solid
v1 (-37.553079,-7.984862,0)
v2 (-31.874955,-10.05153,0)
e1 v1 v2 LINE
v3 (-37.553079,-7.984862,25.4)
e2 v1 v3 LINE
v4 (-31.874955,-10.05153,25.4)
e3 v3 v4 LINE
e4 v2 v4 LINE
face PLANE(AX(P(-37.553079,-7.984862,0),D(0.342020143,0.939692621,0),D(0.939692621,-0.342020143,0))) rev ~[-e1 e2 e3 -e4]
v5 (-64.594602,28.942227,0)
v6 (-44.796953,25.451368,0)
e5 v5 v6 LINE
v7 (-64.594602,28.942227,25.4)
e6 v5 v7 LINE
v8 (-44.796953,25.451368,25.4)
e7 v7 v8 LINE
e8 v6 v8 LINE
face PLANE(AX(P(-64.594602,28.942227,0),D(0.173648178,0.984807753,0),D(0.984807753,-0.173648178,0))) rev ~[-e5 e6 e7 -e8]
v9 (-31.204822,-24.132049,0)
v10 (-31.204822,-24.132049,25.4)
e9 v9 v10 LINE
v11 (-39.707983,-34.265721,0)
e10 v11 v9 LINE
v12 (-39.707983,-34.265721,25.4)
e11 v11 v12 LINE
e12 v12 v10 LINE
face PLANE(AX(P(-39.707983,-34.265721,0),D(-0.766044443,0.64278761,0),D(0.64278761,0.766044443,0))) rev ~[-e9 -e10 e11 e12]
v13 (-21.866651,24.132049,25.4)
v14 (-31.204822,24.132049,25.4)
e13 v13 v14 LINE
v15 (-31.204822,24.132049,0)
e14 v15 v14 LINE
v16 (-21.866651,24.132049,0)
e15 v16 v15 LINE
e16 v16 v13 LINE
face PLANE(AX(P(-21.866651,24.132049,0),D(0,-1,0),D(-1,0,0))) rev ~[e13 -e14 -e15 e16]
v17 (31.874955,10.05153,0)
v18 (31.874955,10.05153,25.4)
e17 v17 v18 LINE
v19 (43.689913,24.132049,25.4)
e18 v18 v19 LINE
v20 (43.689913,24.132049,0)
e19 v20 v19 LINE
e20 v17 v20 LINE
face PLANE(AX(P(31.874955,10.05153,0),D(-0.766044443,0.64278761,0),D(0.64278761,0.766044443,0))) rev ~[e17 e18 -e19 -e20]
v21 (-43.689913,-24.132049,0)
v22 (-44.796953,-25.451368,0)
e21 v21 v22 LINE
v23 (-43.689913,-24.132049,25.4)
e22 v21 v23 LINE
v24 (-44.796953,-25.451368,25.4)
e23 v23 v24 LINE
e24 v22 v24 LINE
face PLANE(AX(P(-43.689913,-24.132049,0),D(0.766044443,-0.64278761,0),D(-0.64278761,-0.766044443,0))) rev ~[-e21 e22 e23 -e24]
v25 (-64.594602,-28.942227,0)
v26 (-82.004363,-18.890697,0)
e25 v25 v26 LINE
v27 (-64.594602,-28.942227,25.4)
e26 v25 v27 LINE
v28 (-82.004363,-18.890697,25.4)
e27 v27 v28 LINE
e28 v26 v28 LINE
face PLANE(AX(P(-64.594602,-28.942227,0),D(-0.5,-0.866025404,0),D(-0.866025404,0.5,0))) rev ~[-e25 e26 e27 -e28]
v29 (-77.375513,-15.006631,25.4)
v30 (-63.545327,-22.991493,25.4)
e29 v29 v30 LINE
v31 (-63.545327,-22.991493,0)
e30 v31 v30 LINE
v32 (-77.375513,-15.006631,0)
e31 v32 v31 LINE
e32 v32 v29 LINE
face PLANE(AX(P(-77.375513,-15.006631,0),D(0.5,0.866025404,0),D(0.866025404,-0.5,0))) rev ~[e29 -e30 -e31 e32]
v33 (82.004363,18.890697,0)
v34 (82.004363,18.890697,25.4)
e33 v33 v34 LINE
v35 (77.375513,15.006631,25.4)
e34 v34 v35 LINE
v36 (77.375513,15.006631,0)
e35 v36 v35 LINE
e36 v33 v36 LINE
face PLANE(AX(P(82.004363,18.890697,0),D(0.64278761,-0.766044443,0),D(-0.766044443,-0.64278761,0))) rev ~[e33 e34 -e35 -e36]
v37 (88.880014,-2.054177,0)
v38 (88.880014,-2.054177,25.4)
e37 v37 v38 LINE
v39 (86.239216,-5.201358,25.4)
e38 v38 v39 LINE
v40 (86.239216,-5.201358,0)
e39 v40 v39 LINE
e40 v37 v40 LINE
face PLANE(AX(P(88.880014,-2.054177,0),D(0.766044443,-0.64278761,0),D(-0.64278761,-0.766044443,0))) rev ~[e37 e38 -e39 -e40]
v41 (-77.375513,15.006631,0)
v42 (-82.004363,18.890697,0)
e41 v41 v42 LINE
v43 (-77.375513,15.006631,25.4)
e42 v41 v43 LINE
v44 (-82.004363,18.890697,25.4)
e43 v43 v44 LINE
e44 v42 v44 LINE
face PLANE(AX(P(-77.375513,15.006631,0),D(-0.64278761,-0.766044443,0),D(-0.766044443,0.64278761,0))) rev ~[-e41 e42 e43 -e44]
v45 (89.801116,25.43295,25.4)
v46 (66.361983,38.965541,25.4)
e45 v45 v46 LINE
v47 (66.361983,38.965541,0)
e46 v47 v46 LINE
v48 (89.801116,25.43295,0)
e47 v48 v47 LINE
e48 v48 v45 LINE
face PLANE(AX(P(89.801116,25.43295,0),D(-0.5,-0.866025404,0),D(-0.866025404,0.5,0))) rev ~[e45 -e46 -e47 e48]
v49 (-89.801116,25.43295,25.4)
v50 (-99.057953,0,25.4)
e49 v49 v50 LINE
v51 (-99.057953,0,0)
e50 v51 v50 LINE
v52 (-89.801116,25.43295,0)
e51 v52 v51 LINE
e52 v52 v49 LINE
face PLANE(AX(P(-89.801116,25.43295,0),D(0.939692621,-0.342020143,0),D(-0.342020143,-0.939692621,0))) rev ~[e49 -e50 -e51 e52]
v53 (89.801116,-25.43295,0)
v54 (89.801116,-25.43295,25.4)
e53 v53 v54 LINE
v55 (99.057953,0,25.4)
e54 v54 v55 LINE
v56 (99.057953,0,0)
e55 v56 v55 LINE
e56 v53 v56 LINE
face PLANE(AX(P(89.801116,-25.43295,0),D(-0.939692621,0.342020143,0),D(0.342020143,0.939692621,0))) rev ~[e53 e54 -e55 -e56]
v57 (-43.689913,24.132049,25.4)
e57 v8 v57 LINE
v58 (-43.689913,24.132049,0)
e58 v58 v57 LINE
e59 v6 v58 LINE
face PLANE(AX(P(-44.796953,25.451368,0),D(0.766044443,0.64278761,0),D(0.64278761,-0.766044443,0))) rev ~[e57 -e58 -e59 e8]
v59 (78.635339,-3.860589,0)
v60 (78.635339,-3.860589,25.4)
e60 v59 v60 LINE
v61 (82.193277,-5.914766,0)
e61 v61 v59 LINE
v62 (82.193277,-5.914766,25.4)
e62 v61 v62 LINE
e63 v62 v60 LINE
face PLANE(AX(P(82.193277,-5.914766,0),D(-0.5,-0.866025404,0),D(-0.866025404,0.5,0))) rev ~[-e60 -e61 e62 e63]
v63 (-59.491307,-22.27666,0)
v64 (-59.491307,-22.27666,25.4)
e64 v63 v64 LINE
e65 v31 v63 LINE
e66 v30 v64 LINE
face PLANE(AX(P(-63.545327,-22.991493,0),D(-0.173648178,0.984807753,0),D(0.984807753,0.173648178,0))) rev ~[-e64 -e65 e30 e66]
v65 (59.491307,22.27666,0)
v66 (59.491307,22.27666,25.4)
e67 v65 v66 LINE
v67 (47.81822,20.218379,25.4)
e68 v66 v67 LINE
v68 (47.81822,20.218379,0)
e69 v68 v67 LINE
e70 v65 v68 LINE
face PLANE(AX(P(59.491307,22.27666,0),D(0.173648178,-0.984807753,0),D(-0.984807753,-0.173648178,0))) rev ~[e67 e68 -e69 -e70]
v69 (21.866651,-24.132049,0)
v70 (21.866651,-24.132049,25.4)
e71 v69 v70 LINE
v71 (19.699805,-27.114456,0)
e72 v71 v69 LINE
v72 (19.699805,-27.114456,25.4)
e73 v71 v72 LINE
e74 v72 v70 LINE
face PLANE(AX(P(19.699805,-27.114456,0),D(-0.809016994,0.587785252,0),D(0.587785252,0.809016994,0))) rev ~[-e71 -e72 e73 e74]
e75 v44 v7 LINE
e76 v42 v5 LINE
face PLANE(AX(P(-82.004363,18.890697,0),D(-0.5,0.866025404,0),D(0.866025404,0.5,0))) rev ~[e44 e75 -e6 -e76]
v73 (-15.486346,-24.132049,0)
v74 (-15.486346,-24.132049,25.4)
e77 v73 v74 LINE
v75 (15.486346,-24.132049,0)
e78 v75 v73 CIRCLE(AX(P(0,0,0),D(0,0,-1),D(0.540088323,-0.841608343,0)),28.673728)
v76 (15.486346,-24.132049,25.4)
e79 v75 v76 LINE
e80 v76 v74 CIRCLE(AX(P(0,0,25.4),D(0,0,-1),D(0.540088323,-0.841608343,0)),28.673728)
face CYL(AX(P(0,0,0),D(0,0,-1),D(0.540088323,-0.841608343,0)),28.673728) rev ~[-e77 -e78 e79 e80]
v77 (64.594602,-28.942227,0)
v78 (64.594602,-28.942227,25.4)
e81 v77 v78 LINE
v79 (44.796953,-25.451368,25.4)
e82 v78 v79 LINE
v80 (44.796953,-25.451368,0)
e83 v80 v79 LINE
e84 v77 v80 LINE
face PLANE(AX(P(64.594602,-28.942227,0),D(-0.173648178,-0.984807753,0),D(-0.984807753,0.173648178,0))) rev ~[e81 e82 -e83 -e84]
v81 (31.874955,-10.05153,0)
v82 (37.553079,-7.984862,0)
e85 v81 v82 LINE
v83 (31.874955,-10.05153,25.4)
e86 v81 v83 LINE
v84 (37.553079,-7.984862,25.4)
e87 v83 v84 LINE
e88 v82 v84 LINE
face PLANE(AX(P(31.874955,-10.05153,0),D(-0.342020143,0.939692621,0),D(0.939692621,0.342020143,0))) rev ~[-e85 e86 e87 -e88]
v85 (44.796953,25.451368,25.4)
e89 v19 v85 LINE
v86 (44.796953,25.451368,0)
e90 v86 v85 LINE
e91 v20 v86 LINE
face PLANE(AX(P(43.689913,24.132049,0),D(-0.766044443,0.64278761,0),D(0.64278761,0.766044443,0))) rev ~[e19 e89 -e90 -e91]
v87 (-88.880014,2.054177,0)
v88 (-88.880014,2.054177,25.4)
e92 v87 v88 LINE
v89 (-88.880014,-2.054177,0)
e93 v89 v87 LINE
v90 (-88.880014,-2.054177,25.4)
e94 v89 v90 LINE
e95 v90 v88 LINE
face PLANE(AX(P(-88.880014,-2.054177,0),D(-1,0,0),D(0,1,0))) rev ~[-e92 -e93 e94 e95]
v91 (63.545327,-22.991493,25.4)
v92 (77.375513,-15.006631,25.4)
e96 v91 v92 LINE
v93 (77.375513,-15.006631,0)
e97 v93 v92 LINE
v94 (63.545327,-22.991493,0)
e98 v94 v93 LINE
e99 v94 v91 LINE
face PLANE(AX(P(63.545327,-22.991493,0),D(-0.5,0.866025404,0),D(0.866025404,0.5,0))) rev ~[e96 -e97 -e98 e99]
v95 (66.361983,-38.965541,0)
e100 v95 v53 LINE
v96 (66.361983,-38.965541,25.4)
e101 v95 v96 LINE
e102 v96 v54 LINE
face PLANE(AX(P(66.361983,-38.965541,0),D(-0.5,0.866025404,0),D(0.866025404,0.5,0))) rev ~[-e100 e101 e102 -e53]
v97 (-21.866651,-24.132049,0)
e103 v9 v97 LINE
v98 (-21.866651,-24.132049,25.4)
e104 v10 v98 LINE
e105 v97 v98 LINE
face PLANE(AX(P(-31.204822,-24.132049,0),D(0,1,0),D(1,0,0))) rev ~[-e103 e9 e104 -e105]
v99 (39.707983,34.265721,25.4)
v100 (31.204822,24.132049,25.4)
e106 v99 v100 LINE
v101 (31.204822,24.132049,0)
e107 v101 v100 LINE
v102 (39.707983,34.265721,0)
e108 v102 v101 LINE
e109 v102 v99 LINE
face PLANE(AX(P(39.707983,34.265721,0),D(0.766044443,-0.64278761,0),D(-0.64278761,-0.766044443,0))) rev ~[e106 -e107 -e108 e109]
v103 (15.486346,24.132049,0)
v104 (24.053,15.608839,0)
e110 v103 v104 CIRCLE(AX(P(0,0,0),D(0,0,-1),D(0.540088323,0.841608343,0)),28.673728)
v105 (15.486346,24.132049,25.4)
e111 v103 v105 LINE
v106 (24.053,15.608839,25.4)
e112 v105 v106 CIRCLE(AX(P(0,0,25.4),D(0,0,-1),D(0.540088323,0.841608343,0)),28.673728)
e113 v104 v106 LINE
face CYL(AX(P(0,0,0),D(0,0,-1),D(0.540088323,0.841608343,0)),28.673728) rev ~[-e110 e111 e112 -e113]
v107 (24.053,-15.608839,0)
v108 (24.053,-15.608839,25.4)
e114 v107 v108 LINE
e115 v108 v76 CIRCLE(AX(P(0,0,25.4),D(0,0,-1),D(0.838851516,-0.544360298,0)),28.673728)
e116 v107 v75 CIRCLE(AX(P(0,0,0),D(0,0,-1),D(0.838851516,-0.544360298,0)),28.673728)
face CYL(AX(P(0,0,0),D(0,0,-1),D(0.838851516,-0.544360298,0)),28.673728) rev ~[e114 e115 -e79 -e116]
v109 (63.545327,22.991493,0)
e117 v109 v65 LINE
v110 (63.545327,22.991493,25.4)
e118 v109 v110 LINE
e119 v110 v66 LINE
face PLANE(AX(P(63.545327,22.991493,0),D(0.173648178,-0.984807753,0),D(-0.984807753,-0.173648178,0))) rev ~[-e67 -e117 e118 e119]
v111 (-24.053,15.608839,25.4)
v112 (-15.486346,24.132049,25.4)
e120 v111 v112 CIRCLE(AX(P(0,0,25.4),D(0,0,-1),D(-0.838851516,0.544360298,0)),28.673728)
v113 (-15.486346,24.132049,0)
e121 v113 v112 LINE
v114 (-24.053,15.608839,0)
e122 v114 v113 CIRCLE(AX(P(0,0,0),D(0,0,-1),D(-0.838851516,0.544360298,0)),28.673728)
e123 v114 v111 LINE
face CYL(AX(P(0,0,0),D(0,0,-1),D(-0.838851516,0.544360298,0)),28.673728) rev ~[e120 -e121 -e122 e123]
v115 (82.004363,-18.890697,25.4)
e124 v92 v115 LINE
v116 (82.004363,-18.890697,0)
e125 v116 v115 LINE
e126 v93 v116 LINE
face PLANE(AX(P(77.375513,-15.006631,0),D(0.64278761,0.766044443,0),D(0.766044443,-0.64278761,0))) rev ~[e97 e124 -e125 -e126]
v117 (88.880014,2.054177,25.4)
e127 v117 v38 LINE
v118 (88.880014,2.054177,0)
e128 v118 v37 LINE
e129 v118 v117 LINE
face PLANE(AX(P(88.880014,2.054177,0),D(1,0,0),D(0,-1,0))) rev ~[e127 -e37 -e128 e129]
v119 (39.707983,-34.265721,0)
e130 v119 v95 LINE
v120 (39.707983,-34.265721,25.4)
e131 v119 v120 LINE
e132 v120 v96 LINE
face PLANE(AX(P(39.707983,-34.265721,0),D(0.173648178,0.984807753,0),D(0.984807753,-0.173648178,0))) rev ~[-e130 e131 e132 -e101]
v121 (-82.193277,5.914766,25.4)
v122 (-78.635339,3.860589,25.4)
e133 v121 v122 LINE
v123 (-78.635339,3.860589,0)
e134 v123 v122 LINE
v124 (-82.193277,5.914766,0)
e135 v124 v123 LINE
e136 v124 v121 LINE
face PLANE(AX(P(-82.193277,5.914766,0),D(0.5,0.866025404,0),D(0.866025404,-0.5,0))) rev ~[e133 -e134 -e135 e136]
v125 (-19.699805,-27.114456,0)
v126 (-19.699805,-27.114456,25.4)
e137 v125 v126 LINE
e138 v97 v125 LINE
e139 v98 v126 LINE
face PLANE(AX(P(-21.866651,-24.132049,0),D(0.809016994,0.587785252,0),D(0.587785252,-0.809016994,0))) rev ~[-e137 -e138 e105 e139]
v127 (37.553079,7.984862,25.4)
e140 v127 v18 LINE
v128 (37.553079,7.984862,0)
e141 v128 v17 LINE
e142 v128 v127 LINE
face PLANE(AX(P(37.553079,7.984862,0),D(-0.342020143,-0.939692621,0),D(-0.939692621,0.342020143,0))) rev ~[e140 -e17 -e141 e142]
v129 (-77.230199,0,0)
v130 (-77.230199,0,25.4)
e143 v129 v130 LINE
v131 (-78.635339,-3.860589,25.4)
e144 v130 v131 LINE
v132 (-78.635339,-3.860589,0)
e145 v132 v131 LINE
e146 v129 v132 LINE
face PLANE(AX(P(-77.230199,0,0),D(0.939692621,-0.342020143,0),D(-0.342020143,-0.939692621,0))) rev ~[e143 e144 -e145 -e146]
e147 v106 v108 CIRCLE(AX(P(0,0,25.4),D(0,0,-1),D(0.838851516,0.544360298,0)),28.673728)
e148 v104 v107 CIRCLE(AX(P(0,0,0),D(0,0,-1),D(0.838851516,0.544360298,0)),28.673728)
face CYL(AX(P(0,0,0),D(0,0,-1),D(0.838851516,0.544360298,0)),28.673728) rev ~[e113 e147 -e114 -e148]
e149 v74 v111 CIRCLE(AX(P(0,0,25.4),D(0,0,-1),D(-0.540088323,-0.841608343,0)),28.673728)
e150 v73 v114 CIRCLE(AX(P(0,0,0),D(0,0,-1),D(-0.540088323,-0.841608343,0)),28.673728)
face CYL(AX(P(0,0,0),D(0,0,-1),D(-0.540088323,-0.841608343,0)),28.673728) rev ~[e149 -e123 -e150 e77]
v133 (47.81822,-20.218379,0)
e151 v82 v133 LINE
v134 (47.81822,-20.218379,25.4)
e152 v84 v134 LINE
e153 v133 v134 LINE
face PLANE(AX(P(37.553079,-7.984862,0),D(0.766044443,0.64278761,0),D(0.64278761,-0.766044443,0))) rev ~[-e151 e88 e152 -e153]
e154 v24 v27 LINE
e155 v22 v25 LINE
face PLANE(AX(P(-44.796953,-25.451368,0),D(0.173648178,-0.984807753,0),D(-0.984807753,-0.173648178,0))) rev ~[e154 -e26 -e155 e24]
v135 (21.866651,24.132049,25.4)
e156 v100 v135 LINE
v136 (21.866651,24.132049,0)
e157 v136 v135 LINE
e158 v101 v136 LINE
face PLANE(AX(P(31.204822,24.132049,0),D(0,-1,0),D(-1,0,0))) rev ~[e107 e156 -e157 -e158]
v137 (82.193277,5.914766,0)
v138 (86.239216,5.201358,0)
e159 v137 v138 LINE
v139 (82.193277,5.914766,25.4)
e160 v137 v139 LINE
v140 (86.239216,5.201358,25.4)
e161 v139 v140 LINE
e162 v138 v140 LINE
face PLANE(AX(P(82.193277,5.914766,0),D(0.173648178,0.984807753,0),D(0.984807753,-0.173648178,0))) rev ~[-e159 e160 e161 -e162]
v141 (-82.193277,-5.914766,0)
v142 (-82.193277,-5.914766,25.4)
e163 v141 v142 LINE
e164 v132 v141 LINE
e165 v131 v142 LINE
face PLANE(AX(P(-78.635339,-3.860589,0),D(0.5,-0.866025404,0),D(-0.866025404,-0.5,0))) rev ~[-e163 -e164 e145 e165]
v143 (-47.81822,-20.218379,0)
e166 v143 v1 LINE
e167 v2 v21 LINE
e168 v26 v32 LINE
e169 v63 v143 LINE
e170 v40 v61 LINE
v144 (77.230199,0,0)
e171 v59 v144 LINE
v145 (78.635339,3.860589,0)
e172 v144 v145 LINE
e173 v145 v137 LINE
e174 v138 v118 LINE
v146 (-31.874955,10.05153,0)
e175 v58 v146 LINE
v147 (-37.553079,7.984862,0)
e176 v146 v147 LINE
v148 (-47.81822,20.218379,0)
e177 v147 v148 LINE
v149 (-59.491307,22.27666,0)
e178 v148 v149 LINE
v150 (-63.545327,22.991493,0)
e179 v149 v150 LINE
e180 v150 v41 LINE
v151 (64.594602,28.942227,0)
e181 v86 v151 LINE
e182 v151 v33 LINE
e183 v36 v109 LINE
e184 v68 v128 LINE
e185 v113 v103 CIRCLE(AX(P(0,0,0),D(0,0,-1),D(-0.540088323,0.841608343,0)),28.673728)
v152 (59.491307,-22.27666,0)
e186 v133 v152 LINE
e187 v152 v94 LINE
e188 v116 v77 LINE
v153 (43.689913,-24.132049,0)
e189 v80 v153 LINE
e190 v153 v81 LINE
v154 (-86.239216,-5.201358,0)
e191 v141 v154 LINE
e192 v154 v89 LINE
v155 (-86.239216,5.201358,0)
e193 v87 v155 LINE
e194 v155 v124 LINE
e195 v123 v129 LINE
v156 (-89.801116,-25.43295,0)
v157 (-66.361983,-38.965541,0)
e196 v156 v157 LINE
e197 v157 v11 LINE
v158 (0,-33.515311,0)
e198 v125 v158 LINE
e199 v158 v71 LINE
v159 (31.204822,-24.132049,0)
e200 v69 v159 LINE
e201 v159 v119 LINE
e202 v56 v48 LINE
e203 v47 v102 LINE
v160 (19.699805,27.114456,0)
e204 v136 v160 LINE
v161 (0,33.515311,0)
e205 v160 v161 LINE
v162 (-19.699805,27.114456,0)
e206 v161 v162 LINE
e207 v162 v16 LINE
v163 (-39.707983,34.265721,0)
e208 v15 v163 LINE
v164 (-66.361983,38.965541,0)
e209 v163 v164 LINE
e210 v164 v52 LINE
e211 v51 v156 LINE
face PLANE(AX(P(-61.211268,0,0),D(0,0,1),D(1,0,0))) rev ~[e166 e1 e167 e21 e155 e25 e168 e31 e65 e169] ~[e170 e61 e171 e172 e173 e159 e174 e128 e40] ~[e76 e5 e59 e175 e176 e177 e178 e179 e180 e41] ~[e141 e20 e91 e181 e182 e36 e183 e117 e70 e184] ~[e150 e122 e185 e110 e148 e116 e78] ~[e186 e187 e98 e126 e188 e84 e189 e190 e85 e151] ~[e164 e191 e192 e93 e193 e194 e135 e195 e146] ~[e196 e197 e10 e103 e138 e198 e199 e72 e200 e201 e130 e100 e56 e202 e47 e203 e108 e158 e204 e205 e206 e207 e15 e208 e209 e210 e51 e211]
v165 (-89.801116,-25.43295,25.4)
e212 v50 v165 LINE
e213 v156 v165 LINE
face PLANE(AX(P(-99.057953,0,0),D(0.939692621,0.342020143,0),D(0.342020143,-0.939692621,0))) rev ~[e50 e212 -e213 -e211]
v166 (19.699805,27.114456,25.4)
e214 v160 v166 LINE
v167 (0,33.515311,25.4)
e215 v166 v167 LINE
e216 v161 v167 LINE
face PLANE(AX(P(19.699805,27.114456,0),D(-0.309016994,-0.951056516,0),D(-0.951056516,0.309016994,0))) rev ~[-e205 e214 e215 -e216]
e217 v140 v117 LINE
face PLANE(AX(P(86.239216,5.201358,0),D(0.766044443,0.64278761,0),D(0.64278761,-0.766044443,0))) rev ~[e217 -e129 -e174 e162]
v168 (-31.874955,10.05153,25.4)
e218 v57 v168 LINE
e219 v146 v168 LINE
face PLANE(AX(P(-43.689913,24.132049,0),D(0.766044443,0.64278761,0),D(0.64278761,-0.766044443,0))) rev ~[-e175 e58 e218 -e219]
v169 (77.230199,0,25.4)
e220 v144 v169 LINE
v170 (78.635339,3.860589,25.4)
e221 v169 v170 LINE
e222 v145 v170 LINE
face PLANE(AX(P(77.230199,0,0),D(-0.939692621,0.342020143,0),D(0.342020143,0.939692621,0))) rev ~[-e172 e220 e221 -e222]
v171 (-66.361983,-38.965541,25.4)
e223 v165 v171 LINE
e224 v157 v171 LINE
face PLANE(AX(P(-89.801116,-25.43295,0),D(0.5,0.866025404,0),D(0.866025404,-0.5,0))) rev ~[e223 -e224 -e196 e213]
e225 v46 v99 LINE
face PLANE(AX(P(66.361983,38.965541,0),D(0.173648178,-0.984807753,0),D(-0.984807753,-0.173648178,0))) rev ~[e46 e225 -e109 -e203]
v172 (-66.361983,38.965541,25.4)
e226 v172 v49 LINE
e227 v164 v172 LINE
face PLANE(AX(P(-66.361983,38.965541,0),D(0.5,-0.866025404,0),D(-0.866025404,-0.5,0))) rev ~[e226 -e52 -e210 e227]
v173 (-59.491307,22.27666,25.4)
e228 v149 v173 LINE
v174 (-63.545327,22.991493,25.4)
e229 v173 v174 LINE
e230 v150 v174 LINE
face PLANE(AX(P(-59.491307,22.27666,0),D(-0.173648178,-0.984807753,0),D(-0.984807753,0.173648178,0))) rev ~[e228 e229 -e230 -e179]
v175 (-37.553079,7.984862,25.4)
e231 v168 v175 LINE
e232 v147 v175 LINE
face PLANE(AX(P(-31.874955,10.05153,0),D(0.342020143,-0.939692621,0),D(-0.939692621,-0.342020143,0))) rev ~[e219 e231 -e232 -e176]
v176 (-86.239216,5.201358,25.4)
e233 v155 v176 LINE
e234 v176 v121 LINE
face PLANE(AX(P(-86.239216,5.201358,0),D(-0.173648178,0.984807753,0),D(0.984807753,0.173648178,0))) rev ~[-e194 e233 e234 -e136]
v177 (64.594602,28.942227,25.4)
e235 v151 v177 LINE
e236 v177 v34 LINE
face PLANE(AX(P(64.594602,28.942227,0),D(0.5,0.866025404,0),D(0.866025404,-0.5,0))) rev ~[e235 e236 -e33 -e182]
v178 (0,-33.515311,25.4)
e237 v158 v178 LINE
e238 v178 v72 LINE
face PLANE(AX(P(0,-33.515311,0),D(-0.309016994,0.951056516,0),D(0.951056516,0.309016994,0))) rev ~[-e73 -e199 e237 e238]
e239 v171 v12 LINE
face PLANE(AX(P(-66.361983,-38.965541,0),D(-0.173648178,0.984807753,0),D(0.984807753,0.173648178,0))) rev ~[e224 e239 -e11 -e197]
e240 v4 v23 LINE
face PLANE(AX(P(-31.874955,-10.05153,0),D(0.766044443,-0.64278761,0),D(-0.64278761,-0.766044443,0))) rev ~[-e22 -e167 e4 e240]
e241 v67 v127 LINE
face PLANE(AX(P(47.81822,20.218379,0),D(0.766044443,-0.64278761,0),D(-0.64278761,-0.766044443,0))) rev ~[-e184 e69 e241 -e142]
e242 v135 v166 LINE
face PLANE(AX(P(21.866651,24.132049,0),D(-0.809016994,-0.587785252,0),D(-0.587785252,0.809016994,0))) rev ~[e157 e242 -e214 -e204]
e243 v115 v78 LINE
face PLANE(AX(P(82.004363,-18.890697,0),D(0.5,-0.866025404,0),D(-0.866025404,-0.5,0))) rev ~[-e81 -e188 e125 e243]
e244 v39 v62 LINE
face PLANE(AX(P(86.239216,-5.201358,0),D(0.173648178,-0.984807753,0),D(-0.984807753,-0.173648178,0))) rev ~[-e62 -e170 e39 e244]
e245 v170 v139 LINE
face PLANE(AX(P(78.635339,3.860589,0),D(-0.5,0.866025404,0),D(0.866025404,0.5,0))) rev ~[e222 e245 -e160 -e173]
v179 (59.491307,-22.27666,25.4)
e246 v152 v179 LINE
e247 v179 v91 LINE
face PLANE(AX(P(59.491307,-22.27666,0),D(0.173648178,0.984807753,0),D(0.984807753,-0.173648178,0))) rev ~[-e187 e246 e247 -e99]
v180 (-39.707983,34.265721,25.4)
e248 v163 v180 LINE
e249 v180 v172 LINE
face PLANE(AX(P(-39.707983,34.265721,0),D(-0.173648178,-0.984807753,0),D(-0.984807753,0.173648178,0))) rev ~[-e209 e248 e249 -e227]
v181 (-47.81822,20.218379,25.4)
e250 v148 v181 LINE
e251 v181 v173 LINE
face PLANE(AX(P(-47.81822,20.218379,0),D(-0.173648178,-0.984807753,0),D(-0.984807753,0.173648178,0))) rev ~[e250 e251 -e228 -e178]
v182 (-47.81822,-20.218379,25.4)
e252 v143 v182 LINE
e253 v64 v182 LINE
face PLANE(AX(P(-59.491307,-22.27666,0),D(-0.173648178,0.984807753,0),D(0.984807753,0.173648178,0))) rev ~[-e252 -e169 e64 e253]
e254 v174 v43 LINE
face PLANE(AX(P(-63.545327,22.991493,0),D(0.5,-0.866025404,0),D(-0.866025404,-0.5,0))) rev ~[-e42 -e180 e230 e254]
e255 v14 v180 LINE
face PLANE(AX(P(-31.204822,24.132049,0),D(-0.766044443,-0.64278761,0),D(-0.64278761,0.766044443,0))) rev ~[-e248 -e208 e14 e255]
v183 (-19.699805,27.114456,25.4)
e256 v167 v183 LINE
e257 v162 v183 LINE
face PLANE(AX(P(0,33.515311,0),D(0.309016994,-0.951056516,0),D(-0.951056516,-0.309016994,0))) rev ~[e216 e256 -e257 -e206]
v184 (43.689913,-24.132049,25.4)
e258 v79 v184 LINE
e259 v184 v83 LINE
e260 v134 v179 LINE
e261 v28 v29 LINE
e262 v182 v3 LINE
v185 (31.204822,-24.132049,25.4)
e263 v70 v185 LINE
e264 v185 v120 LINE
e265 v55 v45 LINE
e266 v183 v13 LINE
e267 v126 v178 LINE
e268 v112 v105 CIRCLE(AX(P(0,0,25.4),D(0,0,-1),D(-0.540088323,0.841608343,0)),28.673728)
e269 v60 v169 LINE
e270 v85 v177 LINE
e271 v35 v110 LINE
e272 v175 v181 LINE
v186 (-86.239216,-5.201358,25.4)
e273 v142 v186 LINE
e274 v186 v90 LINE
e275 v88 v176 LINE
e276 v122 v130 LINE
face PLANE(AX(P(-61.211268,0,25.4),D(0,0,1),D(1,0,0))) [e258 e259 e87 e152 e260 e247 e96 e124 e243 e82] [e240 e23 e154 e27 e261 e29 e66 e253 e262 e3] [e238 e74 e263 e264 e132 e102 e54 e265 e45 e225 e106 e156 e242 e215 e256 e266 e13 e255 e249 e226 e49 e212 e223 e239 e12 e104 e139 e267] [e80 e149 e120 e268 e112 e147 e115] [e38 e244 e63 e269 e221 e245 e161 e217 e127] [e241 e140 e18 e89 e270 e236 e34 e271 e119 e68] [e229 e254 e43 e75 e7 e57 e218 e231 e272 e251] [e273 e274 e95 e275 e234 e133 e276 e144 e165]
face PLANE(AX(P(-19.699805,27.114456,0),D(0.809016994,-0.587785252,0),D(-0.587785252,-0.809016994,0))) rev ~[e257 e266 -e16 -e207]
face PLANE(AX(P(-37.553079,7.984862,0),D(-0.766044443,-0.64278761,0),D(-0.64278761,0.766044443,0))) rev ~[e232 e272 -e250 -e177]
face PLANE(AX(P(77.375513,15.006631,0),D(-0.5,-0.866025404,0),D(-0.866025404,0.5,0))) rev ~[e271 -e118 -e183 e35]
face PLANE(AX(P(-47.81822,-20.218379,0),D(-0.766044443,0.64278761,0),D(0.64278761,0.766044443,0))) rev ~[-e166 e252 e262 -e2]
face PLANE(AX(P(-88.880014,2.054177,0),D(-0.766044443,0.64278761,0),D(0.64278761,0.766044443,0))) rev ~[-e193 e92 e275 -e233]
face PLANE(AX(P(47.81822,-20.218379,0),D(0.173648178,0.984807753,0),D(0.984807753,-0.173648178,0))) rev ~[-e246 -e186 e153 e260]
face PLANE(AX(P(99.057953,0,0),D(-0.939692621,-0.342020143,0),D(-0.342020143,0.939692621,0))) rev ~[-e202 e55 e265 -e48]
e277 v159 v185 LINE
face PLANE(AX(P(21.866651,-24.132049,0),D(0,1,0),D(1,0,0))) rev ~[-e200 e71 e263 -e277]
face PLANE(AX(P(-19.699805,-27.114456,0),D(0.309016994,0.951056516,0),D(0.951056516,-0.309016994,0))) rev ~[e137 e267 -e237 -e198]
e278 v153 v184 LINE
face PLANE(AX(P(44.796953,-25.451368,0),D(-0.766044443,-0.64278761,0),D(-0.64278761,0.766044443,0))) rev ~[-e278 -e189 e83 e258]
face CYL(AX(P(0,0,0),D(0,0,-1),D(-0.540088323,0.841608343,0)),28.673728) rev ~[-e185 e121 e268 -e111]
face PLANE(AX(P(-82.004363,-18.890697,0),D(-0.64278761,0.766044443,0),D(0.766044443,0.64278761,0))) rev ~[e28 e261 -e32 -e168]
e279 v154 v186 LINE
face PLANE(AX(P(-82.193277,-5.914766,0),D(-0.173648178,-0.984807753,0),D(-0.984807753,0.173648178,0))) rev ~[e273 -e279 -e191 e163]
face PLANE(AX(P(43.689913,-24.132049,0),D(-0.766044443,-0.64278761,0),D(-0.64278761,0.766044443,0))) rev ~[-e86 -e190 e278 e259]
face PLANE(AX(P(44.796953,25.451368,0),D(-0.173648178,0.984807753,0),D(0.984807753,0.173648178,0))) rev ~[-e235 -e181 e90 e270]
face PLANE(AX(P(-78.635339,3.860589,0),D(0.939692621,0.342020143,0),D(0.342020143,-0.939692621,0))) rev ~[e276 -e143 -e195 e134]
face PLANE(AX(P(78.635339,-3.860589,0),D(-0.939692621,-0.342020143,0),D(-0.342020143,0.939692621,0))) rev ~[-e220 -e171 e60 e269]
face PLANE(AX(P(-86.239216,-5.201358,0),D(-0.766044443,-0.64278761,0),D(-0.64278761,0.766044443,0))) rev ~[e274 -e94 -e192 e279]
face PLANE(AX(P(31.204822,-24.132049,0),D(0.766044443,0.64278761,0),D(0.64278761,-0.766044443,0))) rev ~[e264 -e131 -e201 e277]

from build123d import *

# Parameters (mm, degrees)
F1_DEPTH = 25.4
F2_DEPTH = 25.4
F3_DEPTH = 25.4


with BuildPart() as f1:
    # F0 (on Top) → F1 (new body)
    with BuildSketch(Plane.XY):
        Polygon((-63.5453270559, -22.991492829), (-59.4913065434, -22.2766596323), (-47.8182197106, -20.2183794755), (-37.5530794263, -7.9848616632), (-31.8749547005, -10.0515300498), (-31.8749547005, 0), (-31.8749547005, 10.0515300498), (-37.5530794263, 7.9848616632), (-47.8182197106, 20.2183794755), (-59.4913065434, 22.2766596323), (-63.5453270559, 22.991492829), (-77.3755131479, 15.0066311658), (-82.0043628348, 18.8906972309), (-64.5946020947, 28.9422272807), (-44.7969526493, 25.4513675289), (-43.689912716, 24.1320487112), (-31.2048222204, 24.1320487112), (-39.7079831372, 34.2657212821), (-66.3619826587, 38.9655405415), (-89.8011164668, 25.4329503278), (-99.0579533557, 0), (-89.8011164668, -25.4329503278), (-66.3619826587, -38.9655405415), (-39.7079831372, -34.2657212821), (-31.2048222204, -24.1320487112), (-43.689912716, -24.1320487112), (-44.7969526493, -25.4513675289), (-64.5946020947, -28.9422272807), (-82.0043628348, -18.8906972309), (-77.3755131479, -15.0066311658), align=None)
        Polygon((-78.6353386424, 3.8605894997), (-77.2301989778, 0), (-78.6353386424, -3.8605894997), (-82.1932771708, -5.9147662668), (-86.2392155834, -5.2013581624), (-88.8800143314, -2.0541767671), (-88.8800143314, 2.0541767671), (-86.2392155834, 5.2013581624), (-82.1932771708, 5.9147662668), align=None, mode=Mode.SUBTRACT)
        with BuildLine():
            Line((-31.8749547005, -10.0515300498), (-43.689912716, -24.1320487112))
            Line((-43.689912716, -24.1320487112), (-31.2048222204, -24.1320487112))
            Line((-31.2048222204, -24.1320487112), (-26.2000668961, -18.1676135733))
            Line((-26.2000668961, -18.1676135733), (-21.8666511129, -24.1320487112))
            Line((-21.8666511129, -24.1320487112), (-19.6998053948, -27.1144559821))
            Line((-19.6998053948, -27.1144559821), (0, -33.5153107669))
            Line((0, -33.5153107669), (19.6998053948, -27.1144559821))
            Line((19.6998053948, -27.1144559821), (21.8666511129, -24.1320487112))
            Line((21.8666511129, -24.1320487112), (26.2000668961, -18.1676135733))
            Line((26.2000668961, -18.1676135733), (31.2048222204, -24.1320487112))
            Line((31.2048222204, -24.1320487112), (39.7079831372, -34.2657212821))
            Line((39.7079831372, -34.2657212821), (66.3619826587, -38.9655405415))
            Line((66.3619826587, -38.9655405415), (89.8011164668, -25.4329503278))
            Line((89.8011164668, -25.4329503278), (99.0579533557, 0))
            Line((99.0579533557, 0), (89.8011164668, 25.4329503278))
            Line((89.8011164668, 25.4329503278), (66.3619826587, 38.9655405415))
            Line((66.3619826587, 38.9655405415), (39.7079831372, 34.2657212821))
            Line((39.7079831372, 34.2657212821), (31.2048222204, 24.1320487112))
            Line((31.2048222204, 24.1320487112), (26.2000668961, 18.1676135733))
            Line((26.2000668961, 18.1676135733), (31.8749547005, 10.3568005987))
            Line((31.8749547005, 10.3568005987), (31.8749547005, 10.0515300498))
            Line((31.8749547005, 10.0515300498), (31.8749547005, 0))
            Line((31.8749547005, 0), (28.6737279915, 0))
            ThreePointArc((28.6737279915, 0), (27.4942890604, -8.1392104036), (24.053000194, -15.6088391176))
            ThreePointArc((24.053000194, -15.6088391176), (20.22377915, -20.3268648302), (15.4863456611, -24.1320487112))
            ThreePointArc((15.4863456611, -24.1320487112), (0, -28.6737279915), (-15.4863456611, -24.1320487112))
            ThreePointArc((-15.4863456611, -24.1320487112), (-25.1618157135, -13.7501166152), (-28.6737279915, 0))
            Line((-28.6737279915, 0), (-31.8749547005, 0))
            Line((-31.8749547005, 0), (-31.8749547005, -10.0515300498))
        make_face()
        Polygon((43.689912716, -24.1320487112), (31.8749547005, -10.0515300498), (37.5530794263, -7.9848616632), (47.8182197106, -20.2183794755), (59.4913065434, -22.2766596323), (63.5453270559, -22.991492829), (77.3755131479, -15.0066311658), (82.0043628348, -18.8906972309), (64.5946020947, -28.9422272807), (44.7969526493, -25.4513675289), align=None, mode=Mode.SUBTRACT)
        Polygon((78.6353386424, -3.8605894997), (77.2301989778, 0), (78.6353386424, 3.8605894997), (82.1932771708, 5.9147662668), (86.2392155834, 5.2013581624), (88.8800143314, 2.0541767671), (88.8800143314, -2.0541767671), (86.2392155834, -5.2013581624), (82.1932771708, -5.9147662668), align=None, mode=Mode.SUBTRACT)
        Polygon((37.5530794263, 7.9848616632), (31.8749547005, 10.0515300498), (43.689912716, 24.1320487112), (44.7969526493, 25.4513675289), (64.5946020947, 28.9422272807), (82.0043628348, 18.8906972309), (77.3755131479, 15.0066311658), (63.5453270559, 22.991492829), (59.4913065434, 22.2766596323), (47.8182197106, 20.2183794755), align=None, mode=Mode.SUBTRACT)
        Polygon((-26.2000668961, -18.1676135733), (-31.2048222204, -24.1320487112), (-21.8666511129, -24.1320487112), align=None)
        with BuildLine():
            Line((-31.8749547005, 10.0515300498), (-31.8749547005, 0))
            Line((-31.8749547005, 0), (-28.6737279915, 0))
            ThreePointArc((-28.6737279915, 0), (-27.4942890604, 8.1392104036), (-24.053000194, 15.6088391176))
            ThreePointArc((-24.053000194, 15.6088391176), (-20.22377915, 20.3268648302), (-15.4863456611, 24.1320487112))
            ThreePointArc((-15.4863456611, 24.1320487112), (0, 28.6737279915), (15.4863456611, 24.1320487112))
            ThreePointArc((15.4863456611, 24.1320487112), (20.22377915, 20.3268648302), (24.053000194, 15.6088391176))
            ThreePointArc((24.053000194, 15.6088391176), (27.4942890604, 8.1392104036), (28.6737279915, 0))
            Line((28.6737279915, 0), (31.8749547005, 0))
            Line((31.8749547005, 0), (31.8749547005, 10.0515300498))
            Line((31.8749547005, 10.0515300498), (31.8749547005, 10.3568005987))
            Line((31.8749547005, 10.3568005987), (26.2000668961, 18.1676135733))
            Line((26.2000668961, 18.1676135733), (21.8666511129, 24.1320487112))
            Line((21.8666511129, 24.1320487112), (19.6998053948, 27.1144559821))
            Line((19.6998053948, 27.1144559821), (0, 33.5153107669))
            Line((0, 33.5153107669), (-19.6998053948, 27.1144559821))
            Line((-19.6998053948, 27.1144559821), (-21.8666511129, 24.1320487112))
            Line((-21.8666511129, 24.1320487112), (-26.2000668961, 18.1676135733))
            Line((-26.2000668961, 18.1676135733), (-31.2048222204, 24.1320487112))
            Line((-31.2048222204, 24.1320487112), (-43.689912716, 24.1320487112))
            Line((-43.689912716, 24.1320487112), (-31.8749547005, 10.0515300498))
        make_face()
        Polygon((-21.8666511129, 24.1320487112), (-31.2048222204, 24.1320487112), (-26.2000668961, 18.1676135733), align=None)
        Polygon((26.2000668961, -18.1676135733), (21.8666511129, -24.1320487112), (31.2048222204, -24.1320487112), align=None)
        Polygon((21.8666511129, 24.1320487112), (26.2000668961, 18.1676135733), (31.2048222204, 24.1320487112), align=None)
    extrude(amount=F1_DEPTH)

    # F0 (on Top) → F2 (join)
    with BuildSketch(Plane.XY):
        Polygon((-63.5453270559, -22.991492829), (-59.4913065434, -22.2766596323), (-47.8182197106, -20.2183794755), (-37.5530794263, -7.9848616632), (-31.8749547005, -10.0515300498), (-31.8749547005, 0), (-31.8749547005, 10.0515300498), (-37.5530794263, 7.9848616632), (-47.8182197106, 20.2183794755), (-59.4913065434, 22.2766596323), (-63.5453270559, 22.991492829), (-77.3755131479, 15.0066311658), (-82.0043628348, 18.8906972309), (-64.5946020947, 28.9422272807), (-44.7969526493, 25.4513675289), (-43.689912716, 24.1320487112), (-31.2048222204, 24.1320487112), (-39.7079831372, 34.2657212821), (-66.3619826587, 38.9655405415), (-89.8011164668, 25.4329503278), (-99.0579533557, 0), (-89.8011164668, -25.4329503278), (-66.3619826587, -38.9655405415), (-39.7079831372, -34.2657212821), (-31.2048222204, -24.1320487112), (-43.689912716, -24.1320487112), (-44.7969526493, -25.4513675289), (-64.5946020947, -28.9422272807), (-82.0043628348, -18.8906972309), (-77.3755131479, -15.0066311658), align=None)
        Polygon((-78.6353386424, 3.8605894997), (-77.2301989778, 0), (-78.6353386424, -3.8605894997), (-82.1932771708, -5.9147662668), (-86.2392155834, -5.2013581624), (-88.8800143314, -2.0541767671), (-88.8800143314, 2.0541767671), (-86.2392155834, 5.2013581624), (-82.1932771708, 5.9147662668), align=None, mode=Mode.SUBTRACT)
        with BuildLine():
            Line((-31.8749547005, -10.0515300498), (-43.689912716, -24.1320487112))
            Line((-43.689912716, -24.1320487112), (-31.2048222204, -24.1320487112))
            Line((-31.2048222204, -24.1320487112), (-26.2000668961, -18.1676135733))
            Line((-26.2000668961, -18.1676135733), (-21.8666511129, -24.1320487112))
            Line((-21.8666511129, -24.1320487112), (-19.6998053948, -27.1144559821))
            Line((-19.6998053948, -27.1144559821), (0, -33.5153107669))
            Line((0, -33.5153107669), (19.6998053948, -27.1144559821))
            Line((19.6998053948, -27.1144559821), (21.8666511129, -24.1320487112))
            Line((21.8666511129, -24.1320487112), (26.2000668961, -18.1676135733))
            Line((26.2000668961, -18.1676135733), (31.2048222204, -24.1320487112))
            Line((31.2048222204, -24.1320487112), (39.7079831372, -34.2657212821))
            Line((39.7079831372, -34.2657212821), (66.3619826587, -38.9655405415))
            Line((66.3619826587, -38.9655405415), (89.8011164668, -25.4329503278))
            Line((89.8011164668, -25.4329503278), (99.0579533557, 0))
            Line((99.0579533557, 0), (89.8011164668, 25.4329503278))
            Line((89.8011164668, 25.4329503278), (66.3619826587, 38.9655405415))
            Line((66.3619826587, 38.9655405415), (39.7079831372, 34.2657212821))
            Line((39.7079831372, 34.2657212821), (31.2048222204, 24.1320487112))
            Line((31.2048222204, 24.1320487112), (26.2000668961, 18.1676135733))
            Line((26.2000668961, 18.1676135733), (31.8749547005, 10.3568005987))
            Line((31.8749547005, 10.3568005987), (31.8749547005, 10.0515300498))
            Line((31.8749547005, 10.0515300498), (31.8749547005, 0))
            Line((31.8749547005, 0), (28.6737279915, 0))
            ThreePointArc((28.6737279915, 0), (27.4942890604, -8.1392104036), (24.053000194, -15.6088391176))
            ThreePointArc((24.053000194, -15.6088391176), (20.22377915, -20.3268648302), (15.4863456611, -24.1320487112))
            ThreePointArc((15.4863456611, -24.1320487112), (0, -28.6737279915), (-15.4863456611, -24.1320487112))
            ThreePointArc((-15.4863456611, -24.1320487112), (-25.1618157135, -13.7501166152), (-28.6737279915, 0))
            Line((-28.6737279915, 0), (-31.8749547005, 0))
            Line((-31.8749547005, 0), (-31.8749547005, -10.0515300498))
        make_face()
        Polygon((43.689912716, -24.1320487112), (31.8749547005, -10.0515300498), (37.5530794263, -7.9848616632), (47.8182197106, -20.2183794755), (59.4913065434, -22.2766596323), (63.5453270559, -22.991492829), (77.3755131479, -15.0066311658), (82.0043628348, -18.8906972309), (64.5946020947, -28.9422272807), (44.7969526493, -25.4513675289), align=None, mode=Mode.SUBTRACT)
        Polygon((78.6353386424, -3.8605894997), (77.2301989778, 0), (78.6353386424, 3.8605894997), (82.1932771708, 5.9147662668), (86.2392155834, 5.2013581624), (88.8800143314, 2.0541767671), (88.8800143314, -2.0541767671), (86.2392155834, -5.2013581624), (82.1932771708, -5.9147662668), align=None, mode=Mode.SUBTRACT)
        Polygon((37.5530794263, 7.9848616632), (31.8749547005, 10.0515300498), (43.689912716, 24.1320487112), (44.7969526493, 25.4513675289), (64.5946020947, 28.9422272807), (82.0043628348, 18.8906972309), (77.3755131479, 15.0066311658), (63.5453270559, 22.991492829), (59.4913065434, 22.2766596323), (47.8182197106, 20.2183794755), align=None, mode=Mode.SUBTRACT)
        Polygon((-26.2000668961, -18.1676135733), (-31.2048222204, -24.1320487112), (-21.8666511129, -24.1320487112), align=None)
        with BuildLine():
            Line((-31.8749547005, 10.0515300498), (-31.8749547005, 0))
            Line((-31.8749547005, 0), (-28.6737279915, 0))
            ThreePointArc((-28.6737279915, 0), (-27.4942890604, 8.1392104036), (-24.053000194, 15.6088391176))
            ThreePointArc((-24.053000194, 15.6088391176), (-20.22377915, 20.3268648302), (-15.4863456611, 24.1320487112))
            ThreePointArc((-15.4863456611, 24.1320487112), (0, 28.6737279915), (15.4863456611, 24.1320487112))
            ThreePointArc((15.4863456611, 24.1320487112), (20.22377915, 20.3268648302), (24.053000194, 15.6088391176))
            ThreePointArc((24.053000194, 15.6088391176), (27.4942890604, 8.1392104036), (28.6737279915, 0))
            Line((28.6737279915, 0), (31.8749547005, 0))
            Line((31.8749547005, 0), (31.8749547005, 10.0515300498))
            Line((31.8749547005, 10.0515300498), (31.8749547005, 10.3568005987))
            Line((31.8749547005, 10.3568005987), (26.2000668961, 18.1676135733))
            Line((26.2000668961, 18.1676135733), (21.8666511129, 24.1320487112))
            Line((21.8666511129, 24.1320487112), (19.6998053948, 27.1144559821))
            Line((19.6998053948, 27.1144559821), (0, 33.5153107669))
            Line((0, 33.5153107669), (-19.6998053948, 27.1144559821))
            Line((-19.6998053948, 27.1144559821), (-21.8666511129, 24.1320487112))
            Line((-21.8666511129, 24.1320487112), (-26.2000668961, 18.1676135733))
            Line((-26.2000668961, 18.1676135733), (-31.2048222204, 24.1320487112))
            Line((-31.2048222204, 24.1320487112), (-43.689912716, 24.1320487112))
            Line((-43.689912716, 24.1320487112), (-31.8749547005, 10.0515300498))
        make_face()
        Polygon((-21.8666511129, 24.1320487112), (-31.2048222204, 24.1320487112), (-26.2000668961, 18.1676135733), align=None)
        Polygon((26.2000668961, -18.1676135733), (21.8666511129, -24.1320487112), (31.2048222204, -24.1320487112), align=None)
        Polygon((21.8666511129, 24.1320487112), (26.2000668961, 18.1676135733), (31.2048222204, 24.1320487112), align=None)
    extrude(amount=F2_DEPTH)

    # F0 (on Top) → F3 (join)
    with BuildSketch(Plane.XY):
        Polygon((-63.5453270559, -22.991492829), (-59.4913065434, -22.2766596323), (-47.8182197106, -20.2183794755), (-37.5530794263, -7.9848616632), (-31.8749547005, -10.0515300498), (-31.8749547005, 0), (-31.8749547005, 10.0515300498), (-37.5530794263, 7.9848616632), (-47.8182197106, 20.2183794755), (-59.4913065434, 22.2766596323), (-63.5453270559, 22.991492829), (-77.3755131479, 15.0066311658), (-82.0043628348, 18.8906972309), (-64.5946020947, 28.9422272807), (-44.7969526493, 25.4513675289), (-43.689912716, 24.1320487112), (-31.2048222204, 24.1320487112), (-39.7079831372, 34.2657212821), (-66.3619826587, 38.9655405415), (-89.8011164668, 25.4329503278), (-99.0579533557, 0), (-89.8011164668, -25.4329503278), (-66.3619826587, -38.9655405415), (-39.7079831372, -34.2657212821), (-31.2048222204, -24.1320487112), (-43.689912716, -24.1320487112), (-44.7969526493, -25.4513675289), (-64.5946020947, -28.9422272807), (-82.0043628348, -18.8906972309), (-77.3755131479, -15.0066311658), align=None)
        Polygon((-78.6353386424, 3.8605894997), (-77.2301989778, 0), (-78.6353386424, -3.8605894997), (-82.1932771708, -5.9147662668), (-86.2392155834, -5.2013581624), (-88.8800143314, -2.0541767671), (-88.8800143314, 2.0541767671), (-86.2392155834, 5.2013581624), (-82.1932771708, 5.9147662668), align=None, mode=Mode.SUBTRACT)
        with BuildLine():
            Line((-31.8749547005, -10.0515300498), (-43.689912716, -24.1320487112))
            Line((-43.689912716, -24.1320487112), (-31.2048222204, -24.1320487112))
            Line((-31.2048222204, -24.1320487112), (-26.2000668961, -18.1676135733))
            Line((-26.2000668961, -18.1676135733), (-21.8666511129, -24.1320487112))
            Line((-21.8666511129, -24.1320487112), (-19.6998053948, -27.1144559821))
            Line((-19.6998053948, -27.1144559821), (0, -33.5153107669))
            Line((0, -33.5153107669), (19.6998053948, -27.1144559821))
            Line((19.6998053948, -27.1144559821), (21.8666511129, -24.1320487112))
            Line((21.8666511129, -24.1320487112), (26.2000668961, -18.1676135733))
            Line((26.2000668961, -18.1676135733), (31.2048222204, -24.1320487112))
            Line((31.2048222204, -24.1320487112), (39.7079831372, -34.2657212821))
            Line((39.7079831372, -34.2657212821), (66.3619826587, -38.9655405415))
            Line((66.3619826587, -38.9655405415), (89.8011164668, -25.4329503278))
            Line((89.8011164668, -25.4329503278), (99.0579533557, 0))
            Line((99.0579533557, 0), (89.8011164668, 25.4329503278))
            Line((89.8011164668, 25.4329503278), (66.3619826587, 38.9655405415))
            Line((66.3619826587, 38.9655405415), (39.7079831372, 34.2657212821))
            Line((39.7079831372, 34.2657212821), (31.2048222204, 24.1320487112))
            Line((31.2048222204, 24.1320487112), (26.2000668961, 18.1676135733))
            Line((26.2000668961, 18.1676135733), (31.8749547005, 10.3568005987))
            Line((31.8749547005, 10.3568005987), (31.8749547005, 10.0515300498))
            Line((31.8749547005, 10.0515300498), (31.8749547005, 0))
            Line((31.8749547005, 0), (28.6737279915, 0))
            ThreePointArc((28.6737279915, 0), (27.4942890604, -8.1392104036), (24.053000194, -15.6088391176))
            ThreePointArc((24.053000194, -15.6088391176), (20.22377915, -20.3268648302), (15.4863456611, -24.1320487112))
            ThreePointArc((15.4863456611, -24.1320487112), (0, -28.6737279915), (-15.4863456611, -24.1320487112))
            ThreePointArc((-15.4863456611, -24.1320487112), (-25.1618157135, -13.7501166152), (-28.6737279915, 0))
            Line((-28.6737279915, 0), (-31.8749547005, 0))
            Line((-31.8749547005, 0), (-31.8749547005, -10.0515300498))
        make_face()
        Polygon((43.689912716, -24.1320487112), (31.8749547005, -10.0515300498), (37.5530794263, -7.9848616632), (47.8182197106, -20.2183794755), (59.4913065434, -22.2766596323), (63.5453270559, -22.991492829), (77.3755131479, -15.0066311658), (82.0043628348, -18.8906972309), (64.5946020947, -28.9422272807), (44.7969526493, -25.4513675289), align=None, mode=Mode.SUBTRACT)
        Polygon((78.6353386424, -3.8605894997), (77.2301989778, 0), (78.6353386424, 3.8605894997), (82.1932771708, 5.9147662668), (86.2392155834, 5.2013581624), (88.8800143314, 2.0541767671), (88.8800143314, -2.0541767671), (86.2392155834, -5.2013581624), (82.1932771708, -5.9147662668), align=None, mode=Mode.SUBTRACT)
        Polygon((37.5530794263, 7.9848616632), (31.8749547005, 10.0515300498), (43.689912716, 24.1320487112), (44.7969526493, 25.4513675289), (64.5946020947, 28.9422272807), (82.0043628348, 18.8906972309), (77.3755131479, 15.0066311658), (63.5453270559, 22.991492829), (59.4913065434, 22.2766596323), (47.8182197106, 20.2183794755), align=None, mode=Mode.SUBTRACT)
        Polygon((-26.2000668961, -18.1676135733), (-31.2048222204, -24.1320487112), (-21.8666511129, -24.1320487112), align=None)
        with BuildLine():
            Line((-31.8749547005, 10.0515300498), (-31.8749547005, 0))
            Line((-31.8749547005, 0), (-28.6737279915, 0))
            ThreePointArc((-28.6737279915, 0), (-27.4942890604, 8.1392104036), (-24.053000194, 15.6088391176))
            ThreePointArc((-24.053000194, 15.6088391176), (-20.22377915, 20.3268648302), (-15.4863456611, 24.1320487112))
            ThreePointArc((-15.4863456611, 24.1320487112), (0, 28.6737279915), (15.4863456611, 24.1320487112))
            ThreePointArc((15.4863456611, 24.1320487112), (20.22377915, 20.3268648302), (24.053000194, 15.6088391176))
            ThreePointArc((24.053000194, 15.6088391176), (27.4942890604, 8.1392104036), (28.6737279915, 0))
            Line((28.6737279915, 0), (31.8749547005, 0))
            Line((31.8749547005, 0), (31.8749547005, 10.0515300498))
            Line((31.8749547005, 10.0515300498), (31.8749547005, 10.3568005987))
            Line((31.8749547005, 10.3568005987), (26.2000668961, 18.1676135733))
            Line((26.2000668961, 18.1676135733), (21.8666511129, 24.1320487112))
            Line((21.8666511129, 24.1320487112), (19.6998053948, 27.1144559821))
            Line((19.6998053948, 27.1144559821), (0, 33.5153107669))
            Line((0, 33.5153107669), (-19.6998053948, 27.1144559821))
            Line((-19.6998053948, 27.1144559821), (-21.8666511129, 24.1320487112))
            Line((-21.8666511129, 24.1320487112), (-26.2000668961, 18.1676135733))
            Line((-26.2000668961, 18.1676135733), (-31.2048222204, 24.1320487112))
            Line((-31.2048222204, 24.1320487112), (-43.689912716, 24.1320487112))
            Line((-43.689912716, 24.1320487112), (-31.8749547005, 10.0515300498))
        make_face()
        Polygon((-21.8666511129, 24.1320487112), (-31.2048222204, 24.1320487112), (-26.2000668961, 18.1676135733), align=None)
        Polygon((26.2000668961, -18.1676135733), (21.8666511129, -24.1320487112), (31.2048222204, -24.1320487112), align=None)
        Polygon((21.8666511129, 24.1320487112), (26.2000668961, 18.1676135733), (31.2048222204, 24.1320487112), align=None)
    extrude(amount=F3_DEPTH)


solid = f1.part
